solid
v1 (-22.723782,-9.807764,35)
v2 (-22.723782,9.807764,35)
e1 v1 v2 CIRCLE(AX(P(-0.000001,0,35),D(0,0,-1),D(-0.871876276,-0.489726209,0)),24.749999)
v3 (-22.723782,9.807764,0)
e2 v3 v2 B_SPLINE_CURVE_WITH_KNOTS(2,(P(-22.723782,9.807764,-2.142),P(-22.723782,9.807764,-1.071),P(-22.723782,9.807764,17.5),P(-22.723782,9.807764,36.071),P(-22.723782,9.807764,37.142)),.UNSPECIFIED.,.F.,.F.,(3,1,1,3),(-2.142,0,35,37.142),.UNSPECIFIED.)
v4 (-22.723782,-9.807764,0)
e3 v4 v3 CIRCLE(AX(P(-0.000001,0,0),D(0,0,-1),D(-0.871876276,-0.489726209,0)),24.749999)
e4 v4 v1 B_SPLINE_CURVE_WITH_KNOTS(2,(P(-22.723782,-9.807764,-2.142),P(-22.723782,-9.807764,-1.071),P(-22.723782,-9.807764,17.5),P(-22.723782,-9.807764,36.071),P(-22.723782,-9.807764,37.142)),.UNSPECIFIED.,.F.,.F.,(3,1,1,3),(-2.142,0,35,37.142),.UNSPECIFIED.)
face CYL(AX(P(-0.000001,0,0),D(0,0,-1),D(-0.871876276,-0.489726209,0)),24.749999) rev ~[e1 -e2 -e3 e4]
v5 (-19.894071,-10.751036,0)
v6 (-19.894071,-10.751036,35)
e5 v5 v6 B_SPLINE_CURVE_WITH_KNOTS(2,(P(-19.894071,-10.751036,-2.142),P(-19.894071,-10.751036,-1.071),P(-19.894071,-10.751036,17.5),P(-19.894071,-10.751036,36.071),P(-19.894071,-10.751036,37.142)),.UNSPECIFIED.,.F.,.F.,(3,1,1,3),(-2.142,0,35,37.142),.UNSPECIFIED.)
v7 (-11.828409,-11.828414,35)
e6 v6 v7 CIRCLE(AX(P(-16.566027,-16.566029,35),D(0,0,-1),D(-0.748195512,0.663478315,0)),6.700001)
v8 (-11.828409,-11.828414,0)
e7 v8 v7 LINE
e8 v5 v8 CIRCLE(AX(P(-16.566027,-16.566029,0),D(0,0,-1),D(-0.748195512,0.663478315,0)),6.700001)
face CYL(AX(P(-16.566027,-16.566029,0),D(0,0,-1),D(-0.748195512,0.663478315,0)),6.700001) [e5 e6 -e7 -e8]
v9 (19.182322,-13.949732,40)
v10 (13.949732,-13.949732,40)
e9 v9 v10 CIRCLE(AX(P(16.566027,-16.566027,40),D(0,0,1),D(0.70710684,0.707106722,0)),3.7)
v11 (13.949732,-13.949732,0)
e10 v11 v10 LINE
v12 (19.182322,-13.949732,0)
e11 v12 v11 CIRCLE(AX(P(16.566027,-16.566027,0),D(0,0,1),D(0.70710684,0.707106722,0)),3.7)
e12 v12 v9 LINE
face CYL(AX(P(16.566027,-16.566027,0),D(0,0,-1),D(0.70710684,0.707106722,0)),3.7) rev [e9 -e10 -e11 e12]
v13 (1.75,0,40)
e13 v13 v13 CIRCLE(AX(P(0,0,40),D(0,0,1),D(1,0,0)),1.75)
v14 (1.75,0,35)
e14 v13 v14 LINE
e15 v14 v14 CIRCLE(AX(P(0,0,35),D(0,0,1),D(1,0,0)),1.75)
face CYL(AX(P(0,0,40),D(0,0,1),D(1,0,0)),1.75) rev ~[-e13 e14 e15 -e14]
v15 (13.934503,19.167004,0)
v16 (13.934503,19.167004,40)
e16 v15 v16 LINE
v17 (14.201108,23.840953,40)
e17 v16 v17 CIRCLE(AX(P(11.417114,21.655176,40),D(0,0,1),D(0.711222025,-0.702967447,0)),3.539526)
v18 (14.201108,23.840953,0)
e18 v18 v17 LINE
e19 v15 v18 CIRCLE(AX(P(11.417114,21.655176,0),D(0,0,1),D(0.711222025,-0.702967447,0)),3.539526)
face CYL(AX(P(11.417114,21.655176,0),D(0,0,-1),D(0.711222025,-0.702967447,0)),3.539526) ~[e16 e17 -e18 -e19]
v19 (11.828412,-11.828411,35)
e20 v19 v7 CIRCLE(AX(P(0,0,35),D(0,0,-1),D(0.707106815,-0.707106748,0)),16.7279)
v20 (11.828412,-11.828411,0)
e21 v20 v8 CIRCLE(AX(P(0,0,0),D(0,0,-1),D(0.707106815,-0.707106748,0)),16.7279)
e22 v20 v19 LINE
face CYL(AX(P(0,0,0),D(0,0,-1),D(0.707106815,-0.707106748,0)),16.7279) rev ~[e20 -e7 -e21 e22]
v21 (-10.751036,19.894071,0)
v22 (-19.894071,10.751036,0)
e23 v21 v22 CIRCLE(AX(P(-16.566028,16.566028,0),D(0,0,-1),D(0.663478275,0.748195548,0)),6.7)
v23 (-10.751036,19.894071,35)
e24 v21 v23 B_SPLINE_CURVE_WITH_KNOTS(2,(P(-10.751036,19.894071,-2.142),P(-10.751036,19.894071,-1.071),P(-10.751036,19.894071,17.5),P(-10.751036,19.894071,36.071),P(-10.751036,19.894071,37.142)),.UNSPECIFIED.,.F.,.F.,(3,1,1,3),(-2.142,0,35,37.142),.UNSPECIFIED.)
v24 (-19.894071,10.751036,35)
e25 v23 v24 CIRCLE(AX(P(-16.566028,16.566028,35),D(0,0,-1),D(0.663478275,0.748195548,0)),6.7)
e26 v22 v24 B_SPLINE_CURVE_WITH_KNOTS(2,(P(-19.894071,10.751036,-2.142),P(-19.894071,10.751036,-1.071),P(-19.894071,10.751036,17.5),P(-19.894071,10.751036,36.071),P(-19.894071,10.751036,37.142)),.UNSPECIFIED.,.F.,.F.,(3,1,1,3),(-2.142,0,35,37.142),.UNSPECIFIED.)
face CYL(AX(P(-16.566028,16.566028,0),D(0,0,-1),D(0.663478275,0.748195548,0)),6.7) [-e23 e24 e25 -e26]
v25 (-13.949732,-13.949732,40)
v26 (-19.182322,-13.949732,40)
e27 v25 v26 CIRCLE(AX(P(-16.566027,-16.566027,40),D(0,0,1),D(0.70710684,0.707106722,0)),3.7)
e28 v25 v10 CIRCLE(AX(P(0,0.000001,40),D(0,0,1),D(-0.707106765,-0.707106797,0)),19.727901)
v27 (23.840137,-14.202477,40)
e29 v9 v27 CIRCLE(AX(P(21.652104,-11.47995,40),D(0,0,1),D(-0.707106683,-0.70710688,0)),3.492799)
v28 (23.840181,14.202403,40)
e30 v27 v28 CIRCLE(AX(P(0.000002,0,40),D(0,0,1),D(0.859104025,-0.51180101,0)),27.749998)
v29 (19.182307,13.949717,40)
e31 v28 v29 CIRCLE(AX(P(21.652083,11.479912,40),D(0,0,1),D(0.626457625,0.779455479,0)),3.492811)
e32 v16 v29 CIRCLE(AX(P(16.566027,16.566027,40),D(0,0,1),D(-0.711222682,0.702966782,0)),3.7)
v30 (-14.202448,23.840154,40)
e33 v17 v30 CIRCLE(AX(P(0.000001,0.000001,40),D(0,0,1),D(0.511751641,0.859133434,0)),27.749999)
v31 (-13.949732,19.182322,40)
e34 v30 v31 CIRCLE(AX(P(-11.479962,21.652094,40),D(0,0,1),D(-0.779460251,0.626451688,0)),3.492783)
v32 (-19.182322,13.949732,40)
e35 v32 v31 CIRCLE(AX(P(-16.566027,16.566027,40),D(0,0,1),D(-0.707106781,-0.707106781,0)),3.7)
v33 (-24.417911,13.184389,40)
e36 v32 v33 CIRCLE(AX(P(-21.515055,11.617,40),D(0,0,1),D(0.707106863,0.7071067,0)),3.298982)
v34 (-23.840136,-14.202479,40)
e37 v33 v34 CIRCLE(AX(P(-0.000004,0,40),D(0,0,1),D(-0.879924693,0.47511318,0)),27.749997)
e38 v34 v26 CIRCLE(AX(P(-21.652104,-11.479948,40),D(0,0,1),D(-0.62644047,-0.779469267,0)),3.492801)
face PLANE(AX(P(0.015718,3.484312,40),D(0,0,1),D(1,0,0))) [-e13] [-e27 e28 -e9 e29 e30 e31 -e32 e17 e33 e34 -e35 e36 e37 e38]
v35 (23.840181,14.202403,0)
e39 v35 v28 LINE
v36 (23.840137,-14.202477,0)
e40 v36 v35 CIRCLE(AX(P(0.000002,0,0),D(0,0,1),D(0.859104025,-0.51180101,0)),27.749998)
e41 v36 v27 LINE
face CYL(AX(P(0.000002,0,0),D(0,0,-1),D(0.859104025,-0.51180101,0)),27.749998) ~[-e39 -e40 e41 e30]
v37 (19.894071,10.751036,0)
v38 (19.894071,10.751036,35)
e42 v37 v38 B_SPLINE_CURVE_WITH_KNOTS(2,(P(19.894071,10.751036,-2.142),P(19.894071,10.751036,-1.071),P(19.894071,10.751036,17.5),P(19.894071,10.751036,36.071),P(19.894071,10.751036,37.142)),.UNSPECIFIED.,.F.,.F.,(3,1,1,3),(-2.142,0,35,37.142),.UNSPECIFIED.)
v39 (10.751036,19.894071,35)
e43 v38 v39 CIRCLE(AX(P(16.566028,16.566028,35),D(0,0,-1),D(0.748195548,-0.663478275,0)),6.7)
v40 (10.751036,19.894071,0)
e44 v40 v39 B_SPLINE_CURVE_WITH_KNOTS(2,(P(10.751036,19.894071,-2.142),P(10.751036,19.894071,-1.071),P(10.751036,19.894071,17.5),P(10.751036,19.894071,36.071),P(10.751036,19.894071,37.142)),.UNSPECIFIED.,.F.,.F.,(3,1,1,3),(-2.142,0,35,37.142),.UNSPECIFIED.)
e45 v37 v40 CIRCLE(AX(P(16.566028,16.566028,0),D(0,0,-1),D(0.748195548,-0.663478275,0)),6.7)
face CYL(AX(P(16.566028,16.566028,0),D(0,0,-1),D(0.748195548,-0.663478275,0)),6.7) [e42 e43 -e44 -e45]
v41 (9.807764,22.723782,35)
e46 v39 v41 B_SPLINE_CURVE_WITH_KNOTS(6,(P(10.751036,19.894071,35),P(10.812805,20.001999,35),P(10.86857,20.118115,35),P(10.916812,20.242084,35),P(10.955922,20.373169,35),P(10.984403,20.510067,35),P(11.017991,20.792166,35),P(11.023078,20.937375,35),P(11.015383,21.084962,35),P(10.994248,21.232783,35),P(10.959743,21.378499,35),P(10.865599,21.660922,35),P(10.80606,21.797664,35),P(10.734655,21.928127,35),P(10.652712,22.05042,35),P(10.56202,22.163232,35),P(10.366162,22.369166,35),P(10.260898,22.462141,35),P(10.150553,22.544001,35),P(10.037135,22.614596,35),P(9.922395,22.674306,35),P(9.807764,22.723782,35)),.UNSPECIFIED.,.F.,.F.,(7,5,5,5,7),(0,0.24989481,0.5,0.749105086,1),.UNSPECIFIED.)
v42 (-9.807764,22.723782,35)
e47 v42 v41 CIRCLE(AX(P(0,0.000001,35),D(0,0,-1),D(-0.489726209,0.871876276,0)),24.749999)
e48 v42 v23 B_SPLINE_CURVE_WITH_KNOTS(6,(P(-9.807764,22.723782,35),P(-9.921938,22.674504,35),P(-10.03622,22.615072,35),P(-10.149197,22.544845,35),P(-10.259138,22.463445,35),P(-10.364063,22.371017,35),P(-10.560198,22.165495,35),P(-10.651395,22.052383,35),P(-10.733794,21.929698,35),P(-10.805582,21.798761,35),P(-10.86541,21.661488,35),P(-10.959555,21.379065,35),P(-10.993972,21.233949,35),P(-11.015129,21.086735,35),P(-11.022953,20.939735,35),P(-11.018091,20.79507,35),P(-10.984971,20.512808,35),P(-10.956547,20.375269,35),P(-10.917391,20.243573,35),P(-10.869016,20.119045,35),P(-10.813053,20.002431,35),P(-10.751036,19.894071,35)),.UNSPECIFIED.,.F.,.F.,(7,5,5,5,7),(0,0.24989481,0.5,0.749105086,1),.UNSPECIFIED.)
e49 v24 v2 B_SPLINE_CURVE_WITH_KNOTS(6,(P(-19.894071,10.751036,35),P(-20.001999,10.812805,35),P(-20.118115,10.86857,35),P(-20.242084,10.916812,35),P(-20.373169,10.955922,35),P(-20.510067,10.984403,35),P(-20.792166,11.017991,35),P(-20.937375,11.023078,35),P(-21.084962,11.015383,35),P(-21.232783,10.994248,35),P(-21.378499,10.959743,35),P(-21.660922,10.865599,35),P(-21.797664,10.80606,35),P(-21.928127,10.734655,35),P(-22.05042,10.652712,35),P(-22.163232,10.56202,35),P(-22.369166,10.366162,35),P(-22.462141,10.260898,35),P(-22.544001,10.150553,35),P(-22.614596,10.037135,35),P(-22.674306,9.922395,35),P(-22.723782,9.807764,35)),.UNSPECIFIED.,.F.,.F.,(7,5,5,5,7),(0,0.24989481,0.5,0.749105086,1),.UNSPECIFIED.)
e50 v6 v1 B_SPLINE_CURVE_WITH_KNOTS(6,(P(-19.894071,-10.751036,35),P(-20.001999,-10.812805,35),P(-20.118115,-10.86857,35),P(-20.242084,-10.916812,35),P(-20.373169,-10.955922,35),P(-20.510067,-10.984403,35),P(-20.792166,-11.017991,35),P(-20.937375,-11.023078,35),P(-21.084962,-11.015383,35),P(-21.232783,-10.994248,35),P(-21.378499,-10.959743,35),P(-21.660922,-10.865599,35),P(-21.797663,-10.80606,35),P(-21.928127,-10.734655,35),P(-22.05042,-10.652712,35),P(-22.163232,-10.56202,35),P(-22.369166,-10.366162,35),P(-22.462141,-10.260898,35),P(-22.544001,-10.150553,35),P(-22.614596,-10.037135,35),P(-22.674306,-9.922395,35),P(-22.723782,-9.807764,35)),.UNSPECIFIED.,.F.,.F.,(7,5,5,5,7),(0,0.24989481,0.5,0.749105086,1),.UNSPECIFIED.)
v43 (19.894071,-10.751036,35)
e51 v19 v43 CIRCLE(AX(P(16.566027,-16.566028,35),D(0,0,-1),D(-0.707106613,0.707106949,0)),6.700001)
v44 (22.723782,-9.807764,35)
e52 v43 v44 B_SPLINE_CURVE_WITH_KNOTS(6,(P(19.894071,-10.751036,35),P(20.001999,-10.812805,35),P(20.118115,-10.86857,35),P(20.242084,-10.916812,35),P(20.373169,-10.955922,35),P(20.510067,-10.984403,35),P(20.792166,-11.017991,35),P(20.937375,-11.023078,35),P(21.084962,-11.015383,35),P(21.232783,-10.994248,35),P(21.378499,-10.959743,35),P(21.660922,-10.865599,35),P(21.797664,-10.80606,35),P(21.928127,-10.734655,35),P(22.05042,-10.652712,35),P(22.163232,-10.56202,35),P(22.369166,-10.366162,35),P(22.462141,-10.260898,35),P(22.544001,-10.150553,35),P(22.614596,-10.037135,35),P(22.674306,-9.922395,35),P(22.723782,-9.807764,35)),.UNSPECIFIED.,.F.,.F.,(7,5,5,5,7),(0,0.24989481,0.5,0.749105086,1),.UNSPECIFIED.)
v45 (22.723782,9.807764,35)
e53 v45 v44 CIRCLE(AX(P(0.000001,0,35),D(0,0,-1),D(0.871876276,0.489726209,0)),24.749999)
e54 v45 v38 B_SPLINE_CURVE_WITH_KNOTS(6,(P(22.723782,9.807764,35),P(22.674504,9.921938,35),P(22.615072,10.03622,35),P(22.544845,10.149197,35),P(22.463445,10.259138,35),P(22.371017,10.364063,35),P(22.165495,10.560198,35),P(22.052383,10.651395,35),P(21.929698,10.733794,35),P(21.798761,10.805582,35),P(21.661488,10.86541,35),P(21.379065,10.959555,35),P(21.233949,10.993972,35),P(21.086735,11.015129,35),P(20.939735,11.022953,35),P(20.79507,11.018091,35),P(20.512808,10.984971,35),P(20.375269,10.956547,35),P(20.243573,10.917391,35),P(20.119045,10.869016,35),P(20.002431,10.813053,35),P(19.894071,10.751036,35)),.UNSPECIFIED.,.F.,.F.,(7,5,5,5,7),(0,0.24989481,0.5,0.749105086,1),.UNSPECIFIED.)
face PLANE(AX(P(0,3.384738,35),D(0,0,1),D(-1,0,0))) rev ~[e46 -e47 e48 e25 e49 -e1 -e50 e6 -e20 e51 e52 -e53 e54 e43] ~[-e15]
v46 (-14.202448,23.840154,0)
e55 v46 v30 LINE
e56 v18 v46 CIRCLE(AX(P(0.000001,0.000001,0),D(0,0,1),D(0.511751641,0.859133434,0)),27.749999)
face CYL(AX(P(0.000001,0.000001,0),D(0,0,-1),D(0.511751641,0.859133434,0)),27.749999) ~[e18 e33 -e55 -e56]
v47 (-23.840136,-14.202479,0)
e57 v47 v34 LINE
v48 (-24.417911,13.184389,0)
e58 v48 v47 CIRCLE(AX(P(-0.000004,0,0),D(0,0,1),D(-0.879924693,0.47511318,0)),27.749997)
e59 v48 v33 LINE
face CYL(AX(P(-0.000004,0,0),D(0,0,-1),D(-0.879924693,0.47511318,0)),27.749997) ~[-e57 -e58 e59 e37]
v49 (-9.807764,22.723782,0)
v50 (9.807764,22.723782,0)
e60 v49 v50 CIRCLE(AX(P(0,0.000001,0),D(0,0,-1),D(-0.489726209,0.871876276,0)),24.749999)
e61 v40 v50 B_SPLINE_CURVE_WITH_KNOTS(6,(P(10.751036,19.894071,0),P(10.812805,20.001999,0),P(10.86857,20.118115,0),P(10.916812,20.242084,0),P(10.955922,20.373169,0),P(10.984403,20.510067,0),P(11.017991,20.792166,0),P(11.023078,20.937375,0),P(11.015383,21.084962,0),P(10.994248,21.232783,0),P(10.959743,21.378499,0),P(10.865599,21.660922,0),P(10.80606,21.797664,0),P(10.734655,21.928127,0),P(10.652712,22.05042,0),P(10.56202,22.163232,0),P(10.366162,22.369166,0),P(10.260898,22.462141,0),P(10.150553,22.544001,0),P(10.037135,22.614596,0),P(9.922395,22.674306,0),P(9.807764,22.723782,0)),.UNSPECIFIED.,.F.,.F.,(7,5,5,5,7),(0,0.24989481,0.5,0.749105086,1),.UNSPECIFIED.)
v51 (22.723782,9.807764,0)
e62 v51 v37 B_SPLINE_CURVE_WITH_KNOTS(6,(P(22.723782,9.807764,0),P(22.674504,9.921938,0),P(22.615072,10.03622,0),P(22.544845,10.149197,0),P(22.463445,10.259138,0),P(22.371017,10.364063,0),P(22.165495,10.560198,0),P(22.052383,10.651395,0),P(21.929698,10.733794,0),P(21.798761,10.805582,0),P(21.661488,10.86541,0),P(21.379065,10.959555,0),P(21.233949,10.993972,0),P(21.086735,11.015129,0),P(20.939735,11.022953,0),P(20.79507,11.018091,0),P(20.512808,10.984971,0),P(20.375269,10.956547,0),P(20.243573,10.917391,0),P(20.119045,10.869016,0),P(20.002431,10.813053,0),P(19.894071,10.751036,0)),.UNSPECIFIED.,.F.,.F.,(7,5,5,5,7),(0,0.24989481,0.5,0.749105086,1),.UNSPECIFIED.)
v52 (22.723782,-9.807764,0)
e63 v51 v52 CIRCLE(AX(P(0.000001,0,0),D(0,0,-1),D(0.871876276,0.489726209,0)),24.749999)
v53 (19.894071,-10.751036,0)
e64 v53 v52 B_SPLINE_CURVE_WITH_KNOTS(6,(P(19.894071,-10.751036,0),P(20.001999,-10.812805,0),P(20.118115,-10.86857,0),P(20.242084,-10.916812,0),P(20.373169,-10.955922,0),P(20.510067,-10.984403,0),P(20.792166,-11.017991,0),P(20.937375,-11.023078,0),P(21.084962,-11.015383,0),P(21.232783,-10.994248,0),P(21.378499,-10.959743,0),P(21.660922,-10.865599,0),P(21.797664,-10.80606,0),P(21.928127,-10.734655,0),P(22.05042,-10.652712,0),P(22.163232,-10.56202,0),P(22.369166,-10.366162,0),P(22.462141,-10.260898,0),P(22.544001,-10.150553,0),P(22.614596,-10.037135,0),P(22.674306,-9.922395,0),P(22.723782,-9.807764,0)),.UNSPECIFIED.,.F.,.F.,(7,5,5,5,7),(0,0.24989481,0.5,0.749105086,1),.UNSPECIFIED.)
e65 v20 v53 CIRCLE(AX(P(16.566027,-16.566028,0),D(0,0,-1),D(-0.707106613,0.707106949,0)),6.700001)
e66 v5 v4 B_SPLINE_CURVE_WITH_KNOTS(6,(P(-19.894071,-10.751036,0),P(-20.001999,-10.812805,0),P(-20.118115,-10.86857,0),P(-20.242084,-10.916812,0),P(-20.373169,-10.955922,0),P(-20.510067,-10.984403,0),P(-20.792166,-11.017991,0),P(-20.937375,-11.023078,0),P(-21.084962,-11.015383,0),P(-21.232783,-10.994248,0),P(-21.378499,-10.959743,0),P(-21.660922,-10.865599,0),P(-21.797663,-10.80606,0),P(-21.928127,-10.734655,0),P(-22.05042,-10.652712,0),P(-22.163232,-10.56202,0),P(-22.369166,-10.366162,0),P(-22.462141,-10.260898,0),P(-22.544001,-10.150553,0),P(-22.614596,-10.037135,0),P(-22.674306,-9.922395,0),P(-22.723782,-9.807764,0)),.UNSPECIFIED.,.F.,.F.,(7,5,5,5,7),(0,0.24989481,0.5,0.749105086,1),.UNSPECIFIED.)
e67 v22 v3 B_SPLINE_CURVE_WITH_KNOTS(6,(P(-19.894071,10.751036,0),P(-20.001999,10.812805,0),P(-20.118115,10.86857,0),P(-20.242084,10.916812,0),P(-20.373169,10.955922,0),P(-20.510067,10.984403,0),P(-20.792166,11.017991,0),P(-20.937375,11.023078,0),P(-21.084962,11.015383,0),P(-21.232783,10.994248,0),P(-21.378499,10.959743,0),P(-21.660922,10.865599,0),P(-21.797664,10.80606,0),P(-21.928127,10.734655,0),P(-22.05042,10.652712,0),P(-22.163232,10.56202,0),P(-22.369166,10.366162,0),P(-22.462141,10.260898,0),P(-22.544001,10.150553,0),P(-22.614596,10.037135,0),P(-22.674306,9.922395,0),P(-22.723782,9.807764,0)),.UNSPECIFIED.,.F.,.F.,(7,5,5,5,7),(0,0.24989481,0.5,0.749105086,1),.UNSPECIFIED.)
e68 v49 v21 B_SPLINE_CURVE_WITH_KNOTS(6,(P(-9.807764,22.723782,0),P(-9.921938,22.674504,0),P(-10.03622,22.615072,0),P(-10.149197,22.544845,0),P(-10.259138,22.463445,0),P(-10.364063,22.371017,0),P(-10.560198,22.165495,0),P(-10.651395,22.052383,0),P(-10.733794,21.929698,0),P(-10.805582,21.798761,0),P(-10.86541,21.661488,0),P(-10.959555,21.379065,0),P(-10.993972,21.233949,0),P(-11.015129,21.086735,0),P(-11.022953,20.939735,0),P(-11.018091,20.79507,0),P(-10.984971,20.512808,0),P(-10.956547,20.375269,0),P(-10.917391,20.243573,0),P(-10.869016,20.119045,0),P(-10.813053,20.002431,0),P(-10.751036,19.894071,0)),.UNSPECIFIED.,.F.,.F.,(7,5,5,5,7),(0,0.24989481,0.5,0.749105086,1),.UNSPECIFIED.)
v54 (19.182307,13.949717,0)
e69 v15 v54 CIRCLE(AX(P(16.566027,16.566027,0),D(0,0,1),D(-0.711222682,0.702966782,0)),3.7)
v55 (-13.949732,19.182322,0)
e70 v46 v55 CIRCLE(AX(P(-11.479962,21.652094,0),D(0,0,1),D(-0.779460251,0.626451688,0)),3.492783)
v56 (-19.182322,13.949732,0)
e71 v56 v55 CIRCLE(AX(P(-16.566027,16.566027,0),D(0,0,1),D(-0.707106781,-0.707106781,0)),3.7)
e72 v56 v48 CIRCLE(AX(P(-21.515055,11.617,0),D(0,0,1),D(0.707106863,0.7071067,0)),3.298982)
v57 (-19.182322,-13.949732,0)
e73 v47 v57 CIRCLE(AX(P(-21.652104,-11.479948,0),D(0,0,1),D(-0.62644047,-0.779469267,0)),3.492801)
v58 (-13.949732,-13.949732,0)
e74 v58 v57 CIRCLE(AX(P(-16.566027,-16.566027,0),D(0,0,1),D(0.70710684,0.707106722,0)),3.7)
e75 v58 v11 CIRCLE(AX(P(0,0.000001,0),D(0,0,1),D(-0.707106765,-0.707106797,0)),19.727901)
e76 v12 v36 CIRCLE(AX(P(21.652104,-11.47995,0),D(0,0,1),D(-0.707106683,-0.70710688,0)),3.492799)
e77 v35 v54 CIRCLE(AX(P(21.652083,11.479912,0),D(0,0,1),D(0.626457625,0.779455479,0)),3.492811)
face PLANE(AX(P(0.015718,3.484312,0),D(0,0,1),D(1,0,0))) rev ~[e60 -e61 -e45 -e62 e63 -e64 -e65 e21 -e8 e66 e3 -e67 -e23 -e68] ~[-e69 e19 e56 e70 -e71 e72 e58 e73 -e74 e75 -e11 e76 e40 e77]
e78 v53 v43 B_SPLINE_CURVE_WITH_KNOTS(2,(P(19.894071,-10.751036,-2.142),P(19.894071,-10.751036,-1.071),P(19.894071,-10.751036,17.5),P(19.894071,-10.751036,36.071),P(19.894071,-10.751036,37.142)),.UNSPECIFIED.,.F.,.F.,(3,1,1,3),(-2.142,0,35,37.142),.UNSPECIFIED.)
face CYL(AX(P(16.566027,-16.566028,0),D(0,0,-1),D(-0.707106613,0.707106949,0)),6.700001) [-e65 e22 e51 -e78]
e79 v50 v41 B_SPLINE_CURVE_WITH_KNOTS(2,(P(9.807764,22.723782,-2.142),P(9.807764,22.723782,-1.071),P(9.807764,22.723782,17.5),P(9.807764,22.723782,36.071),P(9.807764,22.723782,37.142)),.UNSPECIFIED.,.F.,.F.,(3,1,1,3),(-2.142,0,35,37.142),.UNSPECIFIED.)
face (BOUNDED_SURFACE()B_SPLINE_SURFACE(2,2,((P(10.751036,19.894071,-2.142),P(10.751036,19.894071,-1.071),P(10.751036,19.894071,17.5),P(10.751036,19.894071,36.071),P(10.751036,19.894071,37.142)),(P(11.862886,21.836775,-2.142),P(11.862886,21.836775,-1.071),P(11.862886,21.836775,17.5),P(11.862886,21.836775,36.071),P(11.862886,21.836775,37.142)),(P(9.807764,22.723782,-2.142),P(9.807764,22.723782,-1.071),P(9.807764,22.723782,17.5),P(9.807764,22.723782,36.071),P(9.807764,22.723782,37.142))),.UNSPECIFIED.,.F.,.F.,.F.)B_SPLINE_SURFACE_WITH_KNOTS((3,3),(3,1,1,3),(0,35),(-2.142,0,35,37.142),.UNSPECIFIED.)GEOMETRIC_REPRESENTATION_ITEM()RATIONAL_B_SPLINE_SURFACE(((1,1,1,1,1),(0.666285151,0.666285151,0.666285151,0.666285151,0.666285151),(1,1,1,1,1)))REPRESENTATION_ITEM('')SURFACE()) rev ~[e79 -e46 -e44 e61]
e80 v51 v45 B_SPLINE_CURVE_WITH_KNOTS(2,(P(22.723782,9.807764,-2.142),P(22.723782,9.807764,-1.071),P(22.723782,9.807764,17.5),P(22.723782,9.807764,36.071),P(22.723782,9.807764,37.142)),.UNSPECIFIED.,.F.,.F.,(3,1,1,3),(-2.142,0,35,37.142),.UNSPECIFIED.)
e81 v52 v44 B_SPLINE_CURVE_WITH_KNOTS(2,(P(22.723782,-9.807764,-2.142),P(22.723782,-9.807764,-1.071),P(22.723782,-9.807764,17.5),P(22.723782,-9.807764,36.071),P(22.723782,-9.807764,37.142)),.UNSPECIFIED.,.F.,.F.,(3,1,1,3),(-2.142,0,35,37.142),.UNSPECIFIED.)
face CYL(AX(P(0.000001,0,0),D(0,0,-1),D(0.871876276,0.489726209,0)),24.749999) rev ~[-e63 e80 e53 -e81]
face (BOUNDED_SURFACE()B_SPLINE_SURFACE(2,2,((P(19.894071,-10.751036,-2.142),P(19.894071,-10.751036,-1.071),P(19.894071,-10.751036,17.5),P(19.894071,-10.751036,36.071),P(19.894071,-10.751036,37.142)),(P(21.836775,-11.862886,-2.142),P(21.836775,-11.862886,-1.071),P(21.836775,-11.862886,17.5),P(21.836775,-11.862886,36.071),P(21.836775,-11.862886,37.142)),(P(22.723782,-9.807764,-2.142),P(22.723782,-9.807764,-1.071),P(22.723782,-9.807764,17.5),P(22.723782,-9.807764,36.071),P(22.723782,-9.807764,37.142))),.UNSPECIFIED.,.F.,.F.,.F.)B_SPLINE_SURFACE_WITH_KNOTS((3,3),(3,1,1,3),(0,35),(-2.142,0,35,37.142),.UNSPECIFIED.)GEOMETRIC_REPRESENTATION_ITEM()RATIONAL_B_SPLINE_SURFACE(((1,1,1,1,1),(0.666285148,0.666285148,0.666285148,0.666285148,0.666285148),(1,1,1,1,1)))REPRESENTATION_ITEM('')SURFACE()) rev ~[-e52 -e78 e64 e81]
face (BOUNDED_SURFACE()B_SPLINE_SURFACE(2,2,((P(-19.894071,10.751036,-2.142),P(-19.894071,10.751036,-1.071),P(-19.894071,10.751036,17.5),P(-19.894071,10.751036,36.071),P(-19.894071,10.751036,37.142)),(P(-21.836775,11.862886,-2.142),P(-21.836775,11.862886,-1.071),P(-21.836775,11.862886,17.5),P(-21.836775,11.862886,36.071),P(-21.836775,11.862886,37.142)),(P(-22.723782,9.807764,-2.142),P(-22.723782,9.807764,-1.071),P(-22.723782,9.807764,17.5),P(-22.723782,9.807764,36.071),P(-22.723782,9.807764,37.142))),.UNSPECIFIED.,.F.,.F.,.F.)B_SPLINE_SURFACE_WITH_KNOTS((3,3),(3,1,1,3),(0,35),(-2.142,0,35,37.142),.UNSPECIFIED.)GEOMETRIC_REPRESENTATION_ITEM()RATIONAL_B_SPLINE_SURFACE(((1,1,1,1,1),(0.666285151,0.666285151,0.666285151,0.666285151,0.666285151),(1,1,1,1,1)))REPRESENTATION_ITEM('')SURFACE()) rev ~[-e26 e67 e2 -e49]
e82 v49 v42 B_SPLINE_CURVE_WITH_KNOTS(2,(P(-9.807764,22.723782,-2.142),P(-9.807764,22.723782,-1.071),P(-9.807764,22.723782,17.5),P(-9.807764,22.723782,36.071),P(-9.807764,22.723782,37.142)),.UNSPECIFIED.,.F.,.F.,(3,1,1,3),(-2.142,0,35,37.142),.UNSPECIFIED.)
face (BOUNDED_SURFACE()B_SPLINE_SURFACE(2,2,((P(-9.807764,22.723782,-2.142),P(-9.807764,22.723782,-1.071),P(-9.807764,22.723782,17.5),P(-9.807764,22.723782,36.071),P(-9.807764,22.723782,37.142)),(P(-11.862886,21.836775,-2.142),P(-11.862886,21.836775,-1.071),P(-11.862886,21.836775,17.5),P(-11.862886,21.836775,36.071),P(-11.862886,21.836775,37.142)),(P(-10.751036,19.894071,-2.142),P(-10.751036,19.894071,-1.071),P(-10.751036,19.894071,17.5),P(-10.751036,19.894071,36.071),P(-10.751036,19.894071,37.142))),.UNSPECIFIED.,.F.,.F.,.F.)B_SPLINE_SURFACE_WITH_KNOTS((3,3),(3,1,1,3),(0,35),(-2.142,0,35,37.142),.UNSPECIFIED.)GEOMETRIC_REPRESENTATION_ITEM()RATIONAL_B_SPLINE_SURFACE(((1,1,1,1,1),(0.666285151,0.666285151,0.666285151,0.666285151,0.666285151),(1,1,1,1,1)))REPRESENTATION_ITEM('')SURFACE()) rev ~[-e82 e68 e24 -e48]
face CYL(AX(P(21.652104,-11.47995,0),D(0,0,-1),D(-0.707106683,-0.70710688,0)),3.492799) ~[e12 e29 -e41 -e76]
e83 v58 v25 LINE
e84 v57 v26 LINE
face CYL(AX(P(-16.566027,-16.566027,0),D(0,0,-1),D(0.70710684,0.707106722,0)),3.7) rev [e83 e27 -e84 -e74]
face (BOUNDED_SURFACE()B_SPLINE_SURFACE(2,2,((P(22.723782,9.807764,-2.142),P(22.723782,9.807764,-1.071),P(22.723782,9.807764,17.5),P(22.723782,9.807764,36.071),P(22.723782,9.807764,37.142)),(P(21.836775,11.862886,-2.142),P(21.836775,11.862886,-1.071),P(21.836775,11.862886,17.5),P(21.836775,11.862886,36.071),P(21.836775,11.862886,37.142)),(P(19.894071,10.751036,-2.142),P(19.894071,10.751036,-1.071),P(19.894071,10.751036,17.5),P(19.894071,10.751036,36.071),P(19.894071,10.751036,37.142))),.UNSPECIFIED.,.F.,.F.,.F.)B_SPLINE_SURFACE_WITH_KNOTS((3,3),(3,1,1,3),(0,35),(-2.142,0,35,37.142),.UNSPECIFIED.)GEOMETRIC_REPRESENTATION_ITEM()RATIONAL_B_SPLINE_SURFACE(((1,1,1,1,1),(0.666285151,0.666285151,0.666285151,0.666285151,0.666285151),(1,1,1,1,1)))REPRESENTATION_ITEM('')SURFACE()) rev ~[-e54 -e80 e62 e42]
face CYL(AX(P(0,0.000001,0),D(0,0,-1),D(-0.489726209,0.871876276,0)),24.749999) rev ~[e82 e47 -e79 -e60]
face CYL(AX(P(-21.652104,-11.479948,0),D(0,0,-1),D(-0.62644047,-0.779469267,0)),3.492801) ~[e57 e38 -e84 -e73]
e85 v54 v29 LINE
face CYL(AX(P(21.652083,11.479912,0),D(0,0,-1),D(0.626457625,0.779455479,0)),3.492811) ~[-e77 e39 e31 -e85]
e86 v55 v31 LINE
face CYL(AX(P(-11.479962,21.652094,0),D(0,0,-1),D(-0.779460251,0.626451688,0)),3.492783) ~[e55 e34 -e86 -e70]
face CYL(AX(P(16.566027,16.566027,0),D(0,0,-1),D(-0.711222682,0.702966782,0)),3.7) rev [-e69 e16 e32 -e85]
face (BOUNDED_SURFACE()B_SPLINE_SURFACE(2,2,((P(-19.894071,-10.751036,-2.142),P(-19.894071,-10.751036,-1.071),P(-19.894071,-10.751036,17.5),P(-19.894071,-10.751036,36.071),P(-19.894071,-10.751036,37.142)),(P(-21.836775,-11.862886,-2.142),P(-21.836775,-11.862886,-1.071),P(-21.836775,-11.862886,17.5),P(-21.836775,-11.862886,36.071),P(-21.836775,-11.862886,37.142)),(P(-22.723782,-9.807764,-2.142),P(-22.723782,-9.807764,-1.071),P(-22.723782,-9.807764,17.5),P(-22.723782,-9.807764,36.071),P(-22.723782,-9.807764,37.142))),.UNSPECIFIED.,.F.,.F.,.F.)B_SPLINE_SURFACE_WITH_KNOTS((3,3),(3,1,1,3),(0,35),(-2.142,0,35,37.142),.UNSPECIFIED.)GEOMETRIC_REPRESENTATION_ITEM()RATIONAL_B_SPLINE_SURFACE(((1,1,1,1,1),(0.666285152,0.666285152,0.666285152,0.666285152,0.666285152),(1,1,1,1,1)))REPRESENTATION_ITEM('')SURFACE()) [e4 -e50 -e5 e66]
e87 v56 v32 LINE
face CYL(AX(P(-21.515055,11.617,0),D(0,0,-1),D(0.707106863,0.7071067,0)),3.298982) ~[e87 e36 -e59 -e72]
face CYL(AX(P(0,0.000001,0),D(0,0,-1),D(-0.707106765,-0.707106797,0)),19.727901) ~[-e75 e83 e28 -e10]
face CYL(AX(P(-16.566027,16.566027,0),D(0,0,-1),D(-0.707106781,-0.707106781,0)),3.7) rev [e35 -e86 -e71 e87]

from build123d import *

# Parameters (mm, degrees)
PAD_DEPTH       = 40
POCKET_DEPTH    = 35
FILLET_R        = 2
SKETCH002_R     = 1.75
POCKET001_DEPTH = 40.001


with BuildPart() as part:
    # Sketch → Pad (new body)
    with BuildSketch(Plane.XY):
        with BuildLine():
            ThreePointArc((14.201108, 23.840953), (-0.00078, 27.75), (-14.202448, 23.840154))
            ThreePointArc((-14.202448, 23.840154), (-14.967616, 21.462867), (-13.949732, 19.182322))
            ThreePointArc((-19.182322, 13.949732), (-13.949732, 13.949732), (-13.949732, 19.182322))
            ThreePointArc((-19.182322, 13.949732), (-21.992232, 14.881289), (-24.417911, 13.184389))
            ThreePointArc((-24.417911, 13.184389), (-27.743827, -0.585306), (-23.840136, -14.202479))
            ThreePointArc((-23.840136, -14.202479), (-21.462853, -14.967618), (-19.182322, -13.949732))
            ThreePointArc((-13.949732, -13.949732), (-16.566027, -12.866027), (-19.182322, -13.949732))
            ThreePointArc((-13.949732, -13.949732), (0, -19.7279), (13.949732, -13.949732))
            ThreePointArc((19.182322, -13.949732), (16.566027, -12.866027), (13.949732, -13.949732))
            ThreePointArc((19.182322, -13.949732), (21.462854, -14.967618), (23.840137, -14.202477))
            ThreePointArc((23.840137, -14.202477), (27.75, -4.3e-05), (23.840181, 14.202403))
            ThreePointArc((23.840181, 14.202403), (21.462879, 14.967595), (19.182307, 13.949717))
            ThreePointArc((13.934503, 19.167004), (13.957373, 13.942113), (19.182307, 13.949717))
            ThreePointArc((13.934503, 19.167004), (14.950896, 21.453606), (14.201108, 23.840953))
        make_face()
    extrude(amount=PAD_DEPTH)

    # Sketch001 (on Face15 of Pad) → Pocket (cut)
    with BuildSketch(Plane(origin=(0, 0, 0), x_dir=(1, 0, 0), z_dir=(0, 0, -1))):
        with BuildLine():
            ThreePointArc((-21.578938, 12.120723), (-16.766795, 9.869036), (-11.828409, 11.828414))
            ThreePointArc((11.828412, 11.828411), (2e-06, 16.7279), (-11.828409, 11.828414))
            ThreePointArc((11.828412, 11.828411), (16.766797, 9.869036), (21.578938, 12.120723))
            ThreePointArc((21.578938, -12.120723), (24.75, 0), (21.578938, 12.120723))
            ThreePointArc((21.578938, -12.120723), (11.828412, -11.828412), (12.120723, -21.578938))
            ThreePointArc((-12.120723, -21.578938), (0, -24.75), (12.120723, -21.578938))
            ThreePointArc((-12.120723, -21.578938), (-11.828412, -11.828412), (-21.578938, -12.120723))
            ThreePointArc((-21.578938, 12.120723), (-24.75, 0), (-21.578938, -12.120723))
        make_face()
    extrude(amount=-POCKET_DEPTH, mode=Mode.SUBTRACT)

    # Fillet
    fillet_edges = [part.edges().sort_by_distance(p)[0] for p in [
        (-21.578938, 12.120723, 17.5),
        (-12.120723, 21.578938, 17.5),
        (12.120723, 21.578938, 17.5),
        (21.578938, 12.120723, 17.5),
        (21.578938, -12.120723, 17.5),
        (-21.578938, -12.120723, 17.5),
    ]]
    fillet(fillet_edges, radius=FILLET_R)

    # Sketch002 (on Face31 of Fillet) → Pocket001 (cut, through all)
    with BuildSketch(Plane.XY.offset(40)):
        Circle(SKETCH002_R)
    extrude(amount=-POCKET001_DEPTH, mode=Mode.SUBTRACT)


solid = part.part
